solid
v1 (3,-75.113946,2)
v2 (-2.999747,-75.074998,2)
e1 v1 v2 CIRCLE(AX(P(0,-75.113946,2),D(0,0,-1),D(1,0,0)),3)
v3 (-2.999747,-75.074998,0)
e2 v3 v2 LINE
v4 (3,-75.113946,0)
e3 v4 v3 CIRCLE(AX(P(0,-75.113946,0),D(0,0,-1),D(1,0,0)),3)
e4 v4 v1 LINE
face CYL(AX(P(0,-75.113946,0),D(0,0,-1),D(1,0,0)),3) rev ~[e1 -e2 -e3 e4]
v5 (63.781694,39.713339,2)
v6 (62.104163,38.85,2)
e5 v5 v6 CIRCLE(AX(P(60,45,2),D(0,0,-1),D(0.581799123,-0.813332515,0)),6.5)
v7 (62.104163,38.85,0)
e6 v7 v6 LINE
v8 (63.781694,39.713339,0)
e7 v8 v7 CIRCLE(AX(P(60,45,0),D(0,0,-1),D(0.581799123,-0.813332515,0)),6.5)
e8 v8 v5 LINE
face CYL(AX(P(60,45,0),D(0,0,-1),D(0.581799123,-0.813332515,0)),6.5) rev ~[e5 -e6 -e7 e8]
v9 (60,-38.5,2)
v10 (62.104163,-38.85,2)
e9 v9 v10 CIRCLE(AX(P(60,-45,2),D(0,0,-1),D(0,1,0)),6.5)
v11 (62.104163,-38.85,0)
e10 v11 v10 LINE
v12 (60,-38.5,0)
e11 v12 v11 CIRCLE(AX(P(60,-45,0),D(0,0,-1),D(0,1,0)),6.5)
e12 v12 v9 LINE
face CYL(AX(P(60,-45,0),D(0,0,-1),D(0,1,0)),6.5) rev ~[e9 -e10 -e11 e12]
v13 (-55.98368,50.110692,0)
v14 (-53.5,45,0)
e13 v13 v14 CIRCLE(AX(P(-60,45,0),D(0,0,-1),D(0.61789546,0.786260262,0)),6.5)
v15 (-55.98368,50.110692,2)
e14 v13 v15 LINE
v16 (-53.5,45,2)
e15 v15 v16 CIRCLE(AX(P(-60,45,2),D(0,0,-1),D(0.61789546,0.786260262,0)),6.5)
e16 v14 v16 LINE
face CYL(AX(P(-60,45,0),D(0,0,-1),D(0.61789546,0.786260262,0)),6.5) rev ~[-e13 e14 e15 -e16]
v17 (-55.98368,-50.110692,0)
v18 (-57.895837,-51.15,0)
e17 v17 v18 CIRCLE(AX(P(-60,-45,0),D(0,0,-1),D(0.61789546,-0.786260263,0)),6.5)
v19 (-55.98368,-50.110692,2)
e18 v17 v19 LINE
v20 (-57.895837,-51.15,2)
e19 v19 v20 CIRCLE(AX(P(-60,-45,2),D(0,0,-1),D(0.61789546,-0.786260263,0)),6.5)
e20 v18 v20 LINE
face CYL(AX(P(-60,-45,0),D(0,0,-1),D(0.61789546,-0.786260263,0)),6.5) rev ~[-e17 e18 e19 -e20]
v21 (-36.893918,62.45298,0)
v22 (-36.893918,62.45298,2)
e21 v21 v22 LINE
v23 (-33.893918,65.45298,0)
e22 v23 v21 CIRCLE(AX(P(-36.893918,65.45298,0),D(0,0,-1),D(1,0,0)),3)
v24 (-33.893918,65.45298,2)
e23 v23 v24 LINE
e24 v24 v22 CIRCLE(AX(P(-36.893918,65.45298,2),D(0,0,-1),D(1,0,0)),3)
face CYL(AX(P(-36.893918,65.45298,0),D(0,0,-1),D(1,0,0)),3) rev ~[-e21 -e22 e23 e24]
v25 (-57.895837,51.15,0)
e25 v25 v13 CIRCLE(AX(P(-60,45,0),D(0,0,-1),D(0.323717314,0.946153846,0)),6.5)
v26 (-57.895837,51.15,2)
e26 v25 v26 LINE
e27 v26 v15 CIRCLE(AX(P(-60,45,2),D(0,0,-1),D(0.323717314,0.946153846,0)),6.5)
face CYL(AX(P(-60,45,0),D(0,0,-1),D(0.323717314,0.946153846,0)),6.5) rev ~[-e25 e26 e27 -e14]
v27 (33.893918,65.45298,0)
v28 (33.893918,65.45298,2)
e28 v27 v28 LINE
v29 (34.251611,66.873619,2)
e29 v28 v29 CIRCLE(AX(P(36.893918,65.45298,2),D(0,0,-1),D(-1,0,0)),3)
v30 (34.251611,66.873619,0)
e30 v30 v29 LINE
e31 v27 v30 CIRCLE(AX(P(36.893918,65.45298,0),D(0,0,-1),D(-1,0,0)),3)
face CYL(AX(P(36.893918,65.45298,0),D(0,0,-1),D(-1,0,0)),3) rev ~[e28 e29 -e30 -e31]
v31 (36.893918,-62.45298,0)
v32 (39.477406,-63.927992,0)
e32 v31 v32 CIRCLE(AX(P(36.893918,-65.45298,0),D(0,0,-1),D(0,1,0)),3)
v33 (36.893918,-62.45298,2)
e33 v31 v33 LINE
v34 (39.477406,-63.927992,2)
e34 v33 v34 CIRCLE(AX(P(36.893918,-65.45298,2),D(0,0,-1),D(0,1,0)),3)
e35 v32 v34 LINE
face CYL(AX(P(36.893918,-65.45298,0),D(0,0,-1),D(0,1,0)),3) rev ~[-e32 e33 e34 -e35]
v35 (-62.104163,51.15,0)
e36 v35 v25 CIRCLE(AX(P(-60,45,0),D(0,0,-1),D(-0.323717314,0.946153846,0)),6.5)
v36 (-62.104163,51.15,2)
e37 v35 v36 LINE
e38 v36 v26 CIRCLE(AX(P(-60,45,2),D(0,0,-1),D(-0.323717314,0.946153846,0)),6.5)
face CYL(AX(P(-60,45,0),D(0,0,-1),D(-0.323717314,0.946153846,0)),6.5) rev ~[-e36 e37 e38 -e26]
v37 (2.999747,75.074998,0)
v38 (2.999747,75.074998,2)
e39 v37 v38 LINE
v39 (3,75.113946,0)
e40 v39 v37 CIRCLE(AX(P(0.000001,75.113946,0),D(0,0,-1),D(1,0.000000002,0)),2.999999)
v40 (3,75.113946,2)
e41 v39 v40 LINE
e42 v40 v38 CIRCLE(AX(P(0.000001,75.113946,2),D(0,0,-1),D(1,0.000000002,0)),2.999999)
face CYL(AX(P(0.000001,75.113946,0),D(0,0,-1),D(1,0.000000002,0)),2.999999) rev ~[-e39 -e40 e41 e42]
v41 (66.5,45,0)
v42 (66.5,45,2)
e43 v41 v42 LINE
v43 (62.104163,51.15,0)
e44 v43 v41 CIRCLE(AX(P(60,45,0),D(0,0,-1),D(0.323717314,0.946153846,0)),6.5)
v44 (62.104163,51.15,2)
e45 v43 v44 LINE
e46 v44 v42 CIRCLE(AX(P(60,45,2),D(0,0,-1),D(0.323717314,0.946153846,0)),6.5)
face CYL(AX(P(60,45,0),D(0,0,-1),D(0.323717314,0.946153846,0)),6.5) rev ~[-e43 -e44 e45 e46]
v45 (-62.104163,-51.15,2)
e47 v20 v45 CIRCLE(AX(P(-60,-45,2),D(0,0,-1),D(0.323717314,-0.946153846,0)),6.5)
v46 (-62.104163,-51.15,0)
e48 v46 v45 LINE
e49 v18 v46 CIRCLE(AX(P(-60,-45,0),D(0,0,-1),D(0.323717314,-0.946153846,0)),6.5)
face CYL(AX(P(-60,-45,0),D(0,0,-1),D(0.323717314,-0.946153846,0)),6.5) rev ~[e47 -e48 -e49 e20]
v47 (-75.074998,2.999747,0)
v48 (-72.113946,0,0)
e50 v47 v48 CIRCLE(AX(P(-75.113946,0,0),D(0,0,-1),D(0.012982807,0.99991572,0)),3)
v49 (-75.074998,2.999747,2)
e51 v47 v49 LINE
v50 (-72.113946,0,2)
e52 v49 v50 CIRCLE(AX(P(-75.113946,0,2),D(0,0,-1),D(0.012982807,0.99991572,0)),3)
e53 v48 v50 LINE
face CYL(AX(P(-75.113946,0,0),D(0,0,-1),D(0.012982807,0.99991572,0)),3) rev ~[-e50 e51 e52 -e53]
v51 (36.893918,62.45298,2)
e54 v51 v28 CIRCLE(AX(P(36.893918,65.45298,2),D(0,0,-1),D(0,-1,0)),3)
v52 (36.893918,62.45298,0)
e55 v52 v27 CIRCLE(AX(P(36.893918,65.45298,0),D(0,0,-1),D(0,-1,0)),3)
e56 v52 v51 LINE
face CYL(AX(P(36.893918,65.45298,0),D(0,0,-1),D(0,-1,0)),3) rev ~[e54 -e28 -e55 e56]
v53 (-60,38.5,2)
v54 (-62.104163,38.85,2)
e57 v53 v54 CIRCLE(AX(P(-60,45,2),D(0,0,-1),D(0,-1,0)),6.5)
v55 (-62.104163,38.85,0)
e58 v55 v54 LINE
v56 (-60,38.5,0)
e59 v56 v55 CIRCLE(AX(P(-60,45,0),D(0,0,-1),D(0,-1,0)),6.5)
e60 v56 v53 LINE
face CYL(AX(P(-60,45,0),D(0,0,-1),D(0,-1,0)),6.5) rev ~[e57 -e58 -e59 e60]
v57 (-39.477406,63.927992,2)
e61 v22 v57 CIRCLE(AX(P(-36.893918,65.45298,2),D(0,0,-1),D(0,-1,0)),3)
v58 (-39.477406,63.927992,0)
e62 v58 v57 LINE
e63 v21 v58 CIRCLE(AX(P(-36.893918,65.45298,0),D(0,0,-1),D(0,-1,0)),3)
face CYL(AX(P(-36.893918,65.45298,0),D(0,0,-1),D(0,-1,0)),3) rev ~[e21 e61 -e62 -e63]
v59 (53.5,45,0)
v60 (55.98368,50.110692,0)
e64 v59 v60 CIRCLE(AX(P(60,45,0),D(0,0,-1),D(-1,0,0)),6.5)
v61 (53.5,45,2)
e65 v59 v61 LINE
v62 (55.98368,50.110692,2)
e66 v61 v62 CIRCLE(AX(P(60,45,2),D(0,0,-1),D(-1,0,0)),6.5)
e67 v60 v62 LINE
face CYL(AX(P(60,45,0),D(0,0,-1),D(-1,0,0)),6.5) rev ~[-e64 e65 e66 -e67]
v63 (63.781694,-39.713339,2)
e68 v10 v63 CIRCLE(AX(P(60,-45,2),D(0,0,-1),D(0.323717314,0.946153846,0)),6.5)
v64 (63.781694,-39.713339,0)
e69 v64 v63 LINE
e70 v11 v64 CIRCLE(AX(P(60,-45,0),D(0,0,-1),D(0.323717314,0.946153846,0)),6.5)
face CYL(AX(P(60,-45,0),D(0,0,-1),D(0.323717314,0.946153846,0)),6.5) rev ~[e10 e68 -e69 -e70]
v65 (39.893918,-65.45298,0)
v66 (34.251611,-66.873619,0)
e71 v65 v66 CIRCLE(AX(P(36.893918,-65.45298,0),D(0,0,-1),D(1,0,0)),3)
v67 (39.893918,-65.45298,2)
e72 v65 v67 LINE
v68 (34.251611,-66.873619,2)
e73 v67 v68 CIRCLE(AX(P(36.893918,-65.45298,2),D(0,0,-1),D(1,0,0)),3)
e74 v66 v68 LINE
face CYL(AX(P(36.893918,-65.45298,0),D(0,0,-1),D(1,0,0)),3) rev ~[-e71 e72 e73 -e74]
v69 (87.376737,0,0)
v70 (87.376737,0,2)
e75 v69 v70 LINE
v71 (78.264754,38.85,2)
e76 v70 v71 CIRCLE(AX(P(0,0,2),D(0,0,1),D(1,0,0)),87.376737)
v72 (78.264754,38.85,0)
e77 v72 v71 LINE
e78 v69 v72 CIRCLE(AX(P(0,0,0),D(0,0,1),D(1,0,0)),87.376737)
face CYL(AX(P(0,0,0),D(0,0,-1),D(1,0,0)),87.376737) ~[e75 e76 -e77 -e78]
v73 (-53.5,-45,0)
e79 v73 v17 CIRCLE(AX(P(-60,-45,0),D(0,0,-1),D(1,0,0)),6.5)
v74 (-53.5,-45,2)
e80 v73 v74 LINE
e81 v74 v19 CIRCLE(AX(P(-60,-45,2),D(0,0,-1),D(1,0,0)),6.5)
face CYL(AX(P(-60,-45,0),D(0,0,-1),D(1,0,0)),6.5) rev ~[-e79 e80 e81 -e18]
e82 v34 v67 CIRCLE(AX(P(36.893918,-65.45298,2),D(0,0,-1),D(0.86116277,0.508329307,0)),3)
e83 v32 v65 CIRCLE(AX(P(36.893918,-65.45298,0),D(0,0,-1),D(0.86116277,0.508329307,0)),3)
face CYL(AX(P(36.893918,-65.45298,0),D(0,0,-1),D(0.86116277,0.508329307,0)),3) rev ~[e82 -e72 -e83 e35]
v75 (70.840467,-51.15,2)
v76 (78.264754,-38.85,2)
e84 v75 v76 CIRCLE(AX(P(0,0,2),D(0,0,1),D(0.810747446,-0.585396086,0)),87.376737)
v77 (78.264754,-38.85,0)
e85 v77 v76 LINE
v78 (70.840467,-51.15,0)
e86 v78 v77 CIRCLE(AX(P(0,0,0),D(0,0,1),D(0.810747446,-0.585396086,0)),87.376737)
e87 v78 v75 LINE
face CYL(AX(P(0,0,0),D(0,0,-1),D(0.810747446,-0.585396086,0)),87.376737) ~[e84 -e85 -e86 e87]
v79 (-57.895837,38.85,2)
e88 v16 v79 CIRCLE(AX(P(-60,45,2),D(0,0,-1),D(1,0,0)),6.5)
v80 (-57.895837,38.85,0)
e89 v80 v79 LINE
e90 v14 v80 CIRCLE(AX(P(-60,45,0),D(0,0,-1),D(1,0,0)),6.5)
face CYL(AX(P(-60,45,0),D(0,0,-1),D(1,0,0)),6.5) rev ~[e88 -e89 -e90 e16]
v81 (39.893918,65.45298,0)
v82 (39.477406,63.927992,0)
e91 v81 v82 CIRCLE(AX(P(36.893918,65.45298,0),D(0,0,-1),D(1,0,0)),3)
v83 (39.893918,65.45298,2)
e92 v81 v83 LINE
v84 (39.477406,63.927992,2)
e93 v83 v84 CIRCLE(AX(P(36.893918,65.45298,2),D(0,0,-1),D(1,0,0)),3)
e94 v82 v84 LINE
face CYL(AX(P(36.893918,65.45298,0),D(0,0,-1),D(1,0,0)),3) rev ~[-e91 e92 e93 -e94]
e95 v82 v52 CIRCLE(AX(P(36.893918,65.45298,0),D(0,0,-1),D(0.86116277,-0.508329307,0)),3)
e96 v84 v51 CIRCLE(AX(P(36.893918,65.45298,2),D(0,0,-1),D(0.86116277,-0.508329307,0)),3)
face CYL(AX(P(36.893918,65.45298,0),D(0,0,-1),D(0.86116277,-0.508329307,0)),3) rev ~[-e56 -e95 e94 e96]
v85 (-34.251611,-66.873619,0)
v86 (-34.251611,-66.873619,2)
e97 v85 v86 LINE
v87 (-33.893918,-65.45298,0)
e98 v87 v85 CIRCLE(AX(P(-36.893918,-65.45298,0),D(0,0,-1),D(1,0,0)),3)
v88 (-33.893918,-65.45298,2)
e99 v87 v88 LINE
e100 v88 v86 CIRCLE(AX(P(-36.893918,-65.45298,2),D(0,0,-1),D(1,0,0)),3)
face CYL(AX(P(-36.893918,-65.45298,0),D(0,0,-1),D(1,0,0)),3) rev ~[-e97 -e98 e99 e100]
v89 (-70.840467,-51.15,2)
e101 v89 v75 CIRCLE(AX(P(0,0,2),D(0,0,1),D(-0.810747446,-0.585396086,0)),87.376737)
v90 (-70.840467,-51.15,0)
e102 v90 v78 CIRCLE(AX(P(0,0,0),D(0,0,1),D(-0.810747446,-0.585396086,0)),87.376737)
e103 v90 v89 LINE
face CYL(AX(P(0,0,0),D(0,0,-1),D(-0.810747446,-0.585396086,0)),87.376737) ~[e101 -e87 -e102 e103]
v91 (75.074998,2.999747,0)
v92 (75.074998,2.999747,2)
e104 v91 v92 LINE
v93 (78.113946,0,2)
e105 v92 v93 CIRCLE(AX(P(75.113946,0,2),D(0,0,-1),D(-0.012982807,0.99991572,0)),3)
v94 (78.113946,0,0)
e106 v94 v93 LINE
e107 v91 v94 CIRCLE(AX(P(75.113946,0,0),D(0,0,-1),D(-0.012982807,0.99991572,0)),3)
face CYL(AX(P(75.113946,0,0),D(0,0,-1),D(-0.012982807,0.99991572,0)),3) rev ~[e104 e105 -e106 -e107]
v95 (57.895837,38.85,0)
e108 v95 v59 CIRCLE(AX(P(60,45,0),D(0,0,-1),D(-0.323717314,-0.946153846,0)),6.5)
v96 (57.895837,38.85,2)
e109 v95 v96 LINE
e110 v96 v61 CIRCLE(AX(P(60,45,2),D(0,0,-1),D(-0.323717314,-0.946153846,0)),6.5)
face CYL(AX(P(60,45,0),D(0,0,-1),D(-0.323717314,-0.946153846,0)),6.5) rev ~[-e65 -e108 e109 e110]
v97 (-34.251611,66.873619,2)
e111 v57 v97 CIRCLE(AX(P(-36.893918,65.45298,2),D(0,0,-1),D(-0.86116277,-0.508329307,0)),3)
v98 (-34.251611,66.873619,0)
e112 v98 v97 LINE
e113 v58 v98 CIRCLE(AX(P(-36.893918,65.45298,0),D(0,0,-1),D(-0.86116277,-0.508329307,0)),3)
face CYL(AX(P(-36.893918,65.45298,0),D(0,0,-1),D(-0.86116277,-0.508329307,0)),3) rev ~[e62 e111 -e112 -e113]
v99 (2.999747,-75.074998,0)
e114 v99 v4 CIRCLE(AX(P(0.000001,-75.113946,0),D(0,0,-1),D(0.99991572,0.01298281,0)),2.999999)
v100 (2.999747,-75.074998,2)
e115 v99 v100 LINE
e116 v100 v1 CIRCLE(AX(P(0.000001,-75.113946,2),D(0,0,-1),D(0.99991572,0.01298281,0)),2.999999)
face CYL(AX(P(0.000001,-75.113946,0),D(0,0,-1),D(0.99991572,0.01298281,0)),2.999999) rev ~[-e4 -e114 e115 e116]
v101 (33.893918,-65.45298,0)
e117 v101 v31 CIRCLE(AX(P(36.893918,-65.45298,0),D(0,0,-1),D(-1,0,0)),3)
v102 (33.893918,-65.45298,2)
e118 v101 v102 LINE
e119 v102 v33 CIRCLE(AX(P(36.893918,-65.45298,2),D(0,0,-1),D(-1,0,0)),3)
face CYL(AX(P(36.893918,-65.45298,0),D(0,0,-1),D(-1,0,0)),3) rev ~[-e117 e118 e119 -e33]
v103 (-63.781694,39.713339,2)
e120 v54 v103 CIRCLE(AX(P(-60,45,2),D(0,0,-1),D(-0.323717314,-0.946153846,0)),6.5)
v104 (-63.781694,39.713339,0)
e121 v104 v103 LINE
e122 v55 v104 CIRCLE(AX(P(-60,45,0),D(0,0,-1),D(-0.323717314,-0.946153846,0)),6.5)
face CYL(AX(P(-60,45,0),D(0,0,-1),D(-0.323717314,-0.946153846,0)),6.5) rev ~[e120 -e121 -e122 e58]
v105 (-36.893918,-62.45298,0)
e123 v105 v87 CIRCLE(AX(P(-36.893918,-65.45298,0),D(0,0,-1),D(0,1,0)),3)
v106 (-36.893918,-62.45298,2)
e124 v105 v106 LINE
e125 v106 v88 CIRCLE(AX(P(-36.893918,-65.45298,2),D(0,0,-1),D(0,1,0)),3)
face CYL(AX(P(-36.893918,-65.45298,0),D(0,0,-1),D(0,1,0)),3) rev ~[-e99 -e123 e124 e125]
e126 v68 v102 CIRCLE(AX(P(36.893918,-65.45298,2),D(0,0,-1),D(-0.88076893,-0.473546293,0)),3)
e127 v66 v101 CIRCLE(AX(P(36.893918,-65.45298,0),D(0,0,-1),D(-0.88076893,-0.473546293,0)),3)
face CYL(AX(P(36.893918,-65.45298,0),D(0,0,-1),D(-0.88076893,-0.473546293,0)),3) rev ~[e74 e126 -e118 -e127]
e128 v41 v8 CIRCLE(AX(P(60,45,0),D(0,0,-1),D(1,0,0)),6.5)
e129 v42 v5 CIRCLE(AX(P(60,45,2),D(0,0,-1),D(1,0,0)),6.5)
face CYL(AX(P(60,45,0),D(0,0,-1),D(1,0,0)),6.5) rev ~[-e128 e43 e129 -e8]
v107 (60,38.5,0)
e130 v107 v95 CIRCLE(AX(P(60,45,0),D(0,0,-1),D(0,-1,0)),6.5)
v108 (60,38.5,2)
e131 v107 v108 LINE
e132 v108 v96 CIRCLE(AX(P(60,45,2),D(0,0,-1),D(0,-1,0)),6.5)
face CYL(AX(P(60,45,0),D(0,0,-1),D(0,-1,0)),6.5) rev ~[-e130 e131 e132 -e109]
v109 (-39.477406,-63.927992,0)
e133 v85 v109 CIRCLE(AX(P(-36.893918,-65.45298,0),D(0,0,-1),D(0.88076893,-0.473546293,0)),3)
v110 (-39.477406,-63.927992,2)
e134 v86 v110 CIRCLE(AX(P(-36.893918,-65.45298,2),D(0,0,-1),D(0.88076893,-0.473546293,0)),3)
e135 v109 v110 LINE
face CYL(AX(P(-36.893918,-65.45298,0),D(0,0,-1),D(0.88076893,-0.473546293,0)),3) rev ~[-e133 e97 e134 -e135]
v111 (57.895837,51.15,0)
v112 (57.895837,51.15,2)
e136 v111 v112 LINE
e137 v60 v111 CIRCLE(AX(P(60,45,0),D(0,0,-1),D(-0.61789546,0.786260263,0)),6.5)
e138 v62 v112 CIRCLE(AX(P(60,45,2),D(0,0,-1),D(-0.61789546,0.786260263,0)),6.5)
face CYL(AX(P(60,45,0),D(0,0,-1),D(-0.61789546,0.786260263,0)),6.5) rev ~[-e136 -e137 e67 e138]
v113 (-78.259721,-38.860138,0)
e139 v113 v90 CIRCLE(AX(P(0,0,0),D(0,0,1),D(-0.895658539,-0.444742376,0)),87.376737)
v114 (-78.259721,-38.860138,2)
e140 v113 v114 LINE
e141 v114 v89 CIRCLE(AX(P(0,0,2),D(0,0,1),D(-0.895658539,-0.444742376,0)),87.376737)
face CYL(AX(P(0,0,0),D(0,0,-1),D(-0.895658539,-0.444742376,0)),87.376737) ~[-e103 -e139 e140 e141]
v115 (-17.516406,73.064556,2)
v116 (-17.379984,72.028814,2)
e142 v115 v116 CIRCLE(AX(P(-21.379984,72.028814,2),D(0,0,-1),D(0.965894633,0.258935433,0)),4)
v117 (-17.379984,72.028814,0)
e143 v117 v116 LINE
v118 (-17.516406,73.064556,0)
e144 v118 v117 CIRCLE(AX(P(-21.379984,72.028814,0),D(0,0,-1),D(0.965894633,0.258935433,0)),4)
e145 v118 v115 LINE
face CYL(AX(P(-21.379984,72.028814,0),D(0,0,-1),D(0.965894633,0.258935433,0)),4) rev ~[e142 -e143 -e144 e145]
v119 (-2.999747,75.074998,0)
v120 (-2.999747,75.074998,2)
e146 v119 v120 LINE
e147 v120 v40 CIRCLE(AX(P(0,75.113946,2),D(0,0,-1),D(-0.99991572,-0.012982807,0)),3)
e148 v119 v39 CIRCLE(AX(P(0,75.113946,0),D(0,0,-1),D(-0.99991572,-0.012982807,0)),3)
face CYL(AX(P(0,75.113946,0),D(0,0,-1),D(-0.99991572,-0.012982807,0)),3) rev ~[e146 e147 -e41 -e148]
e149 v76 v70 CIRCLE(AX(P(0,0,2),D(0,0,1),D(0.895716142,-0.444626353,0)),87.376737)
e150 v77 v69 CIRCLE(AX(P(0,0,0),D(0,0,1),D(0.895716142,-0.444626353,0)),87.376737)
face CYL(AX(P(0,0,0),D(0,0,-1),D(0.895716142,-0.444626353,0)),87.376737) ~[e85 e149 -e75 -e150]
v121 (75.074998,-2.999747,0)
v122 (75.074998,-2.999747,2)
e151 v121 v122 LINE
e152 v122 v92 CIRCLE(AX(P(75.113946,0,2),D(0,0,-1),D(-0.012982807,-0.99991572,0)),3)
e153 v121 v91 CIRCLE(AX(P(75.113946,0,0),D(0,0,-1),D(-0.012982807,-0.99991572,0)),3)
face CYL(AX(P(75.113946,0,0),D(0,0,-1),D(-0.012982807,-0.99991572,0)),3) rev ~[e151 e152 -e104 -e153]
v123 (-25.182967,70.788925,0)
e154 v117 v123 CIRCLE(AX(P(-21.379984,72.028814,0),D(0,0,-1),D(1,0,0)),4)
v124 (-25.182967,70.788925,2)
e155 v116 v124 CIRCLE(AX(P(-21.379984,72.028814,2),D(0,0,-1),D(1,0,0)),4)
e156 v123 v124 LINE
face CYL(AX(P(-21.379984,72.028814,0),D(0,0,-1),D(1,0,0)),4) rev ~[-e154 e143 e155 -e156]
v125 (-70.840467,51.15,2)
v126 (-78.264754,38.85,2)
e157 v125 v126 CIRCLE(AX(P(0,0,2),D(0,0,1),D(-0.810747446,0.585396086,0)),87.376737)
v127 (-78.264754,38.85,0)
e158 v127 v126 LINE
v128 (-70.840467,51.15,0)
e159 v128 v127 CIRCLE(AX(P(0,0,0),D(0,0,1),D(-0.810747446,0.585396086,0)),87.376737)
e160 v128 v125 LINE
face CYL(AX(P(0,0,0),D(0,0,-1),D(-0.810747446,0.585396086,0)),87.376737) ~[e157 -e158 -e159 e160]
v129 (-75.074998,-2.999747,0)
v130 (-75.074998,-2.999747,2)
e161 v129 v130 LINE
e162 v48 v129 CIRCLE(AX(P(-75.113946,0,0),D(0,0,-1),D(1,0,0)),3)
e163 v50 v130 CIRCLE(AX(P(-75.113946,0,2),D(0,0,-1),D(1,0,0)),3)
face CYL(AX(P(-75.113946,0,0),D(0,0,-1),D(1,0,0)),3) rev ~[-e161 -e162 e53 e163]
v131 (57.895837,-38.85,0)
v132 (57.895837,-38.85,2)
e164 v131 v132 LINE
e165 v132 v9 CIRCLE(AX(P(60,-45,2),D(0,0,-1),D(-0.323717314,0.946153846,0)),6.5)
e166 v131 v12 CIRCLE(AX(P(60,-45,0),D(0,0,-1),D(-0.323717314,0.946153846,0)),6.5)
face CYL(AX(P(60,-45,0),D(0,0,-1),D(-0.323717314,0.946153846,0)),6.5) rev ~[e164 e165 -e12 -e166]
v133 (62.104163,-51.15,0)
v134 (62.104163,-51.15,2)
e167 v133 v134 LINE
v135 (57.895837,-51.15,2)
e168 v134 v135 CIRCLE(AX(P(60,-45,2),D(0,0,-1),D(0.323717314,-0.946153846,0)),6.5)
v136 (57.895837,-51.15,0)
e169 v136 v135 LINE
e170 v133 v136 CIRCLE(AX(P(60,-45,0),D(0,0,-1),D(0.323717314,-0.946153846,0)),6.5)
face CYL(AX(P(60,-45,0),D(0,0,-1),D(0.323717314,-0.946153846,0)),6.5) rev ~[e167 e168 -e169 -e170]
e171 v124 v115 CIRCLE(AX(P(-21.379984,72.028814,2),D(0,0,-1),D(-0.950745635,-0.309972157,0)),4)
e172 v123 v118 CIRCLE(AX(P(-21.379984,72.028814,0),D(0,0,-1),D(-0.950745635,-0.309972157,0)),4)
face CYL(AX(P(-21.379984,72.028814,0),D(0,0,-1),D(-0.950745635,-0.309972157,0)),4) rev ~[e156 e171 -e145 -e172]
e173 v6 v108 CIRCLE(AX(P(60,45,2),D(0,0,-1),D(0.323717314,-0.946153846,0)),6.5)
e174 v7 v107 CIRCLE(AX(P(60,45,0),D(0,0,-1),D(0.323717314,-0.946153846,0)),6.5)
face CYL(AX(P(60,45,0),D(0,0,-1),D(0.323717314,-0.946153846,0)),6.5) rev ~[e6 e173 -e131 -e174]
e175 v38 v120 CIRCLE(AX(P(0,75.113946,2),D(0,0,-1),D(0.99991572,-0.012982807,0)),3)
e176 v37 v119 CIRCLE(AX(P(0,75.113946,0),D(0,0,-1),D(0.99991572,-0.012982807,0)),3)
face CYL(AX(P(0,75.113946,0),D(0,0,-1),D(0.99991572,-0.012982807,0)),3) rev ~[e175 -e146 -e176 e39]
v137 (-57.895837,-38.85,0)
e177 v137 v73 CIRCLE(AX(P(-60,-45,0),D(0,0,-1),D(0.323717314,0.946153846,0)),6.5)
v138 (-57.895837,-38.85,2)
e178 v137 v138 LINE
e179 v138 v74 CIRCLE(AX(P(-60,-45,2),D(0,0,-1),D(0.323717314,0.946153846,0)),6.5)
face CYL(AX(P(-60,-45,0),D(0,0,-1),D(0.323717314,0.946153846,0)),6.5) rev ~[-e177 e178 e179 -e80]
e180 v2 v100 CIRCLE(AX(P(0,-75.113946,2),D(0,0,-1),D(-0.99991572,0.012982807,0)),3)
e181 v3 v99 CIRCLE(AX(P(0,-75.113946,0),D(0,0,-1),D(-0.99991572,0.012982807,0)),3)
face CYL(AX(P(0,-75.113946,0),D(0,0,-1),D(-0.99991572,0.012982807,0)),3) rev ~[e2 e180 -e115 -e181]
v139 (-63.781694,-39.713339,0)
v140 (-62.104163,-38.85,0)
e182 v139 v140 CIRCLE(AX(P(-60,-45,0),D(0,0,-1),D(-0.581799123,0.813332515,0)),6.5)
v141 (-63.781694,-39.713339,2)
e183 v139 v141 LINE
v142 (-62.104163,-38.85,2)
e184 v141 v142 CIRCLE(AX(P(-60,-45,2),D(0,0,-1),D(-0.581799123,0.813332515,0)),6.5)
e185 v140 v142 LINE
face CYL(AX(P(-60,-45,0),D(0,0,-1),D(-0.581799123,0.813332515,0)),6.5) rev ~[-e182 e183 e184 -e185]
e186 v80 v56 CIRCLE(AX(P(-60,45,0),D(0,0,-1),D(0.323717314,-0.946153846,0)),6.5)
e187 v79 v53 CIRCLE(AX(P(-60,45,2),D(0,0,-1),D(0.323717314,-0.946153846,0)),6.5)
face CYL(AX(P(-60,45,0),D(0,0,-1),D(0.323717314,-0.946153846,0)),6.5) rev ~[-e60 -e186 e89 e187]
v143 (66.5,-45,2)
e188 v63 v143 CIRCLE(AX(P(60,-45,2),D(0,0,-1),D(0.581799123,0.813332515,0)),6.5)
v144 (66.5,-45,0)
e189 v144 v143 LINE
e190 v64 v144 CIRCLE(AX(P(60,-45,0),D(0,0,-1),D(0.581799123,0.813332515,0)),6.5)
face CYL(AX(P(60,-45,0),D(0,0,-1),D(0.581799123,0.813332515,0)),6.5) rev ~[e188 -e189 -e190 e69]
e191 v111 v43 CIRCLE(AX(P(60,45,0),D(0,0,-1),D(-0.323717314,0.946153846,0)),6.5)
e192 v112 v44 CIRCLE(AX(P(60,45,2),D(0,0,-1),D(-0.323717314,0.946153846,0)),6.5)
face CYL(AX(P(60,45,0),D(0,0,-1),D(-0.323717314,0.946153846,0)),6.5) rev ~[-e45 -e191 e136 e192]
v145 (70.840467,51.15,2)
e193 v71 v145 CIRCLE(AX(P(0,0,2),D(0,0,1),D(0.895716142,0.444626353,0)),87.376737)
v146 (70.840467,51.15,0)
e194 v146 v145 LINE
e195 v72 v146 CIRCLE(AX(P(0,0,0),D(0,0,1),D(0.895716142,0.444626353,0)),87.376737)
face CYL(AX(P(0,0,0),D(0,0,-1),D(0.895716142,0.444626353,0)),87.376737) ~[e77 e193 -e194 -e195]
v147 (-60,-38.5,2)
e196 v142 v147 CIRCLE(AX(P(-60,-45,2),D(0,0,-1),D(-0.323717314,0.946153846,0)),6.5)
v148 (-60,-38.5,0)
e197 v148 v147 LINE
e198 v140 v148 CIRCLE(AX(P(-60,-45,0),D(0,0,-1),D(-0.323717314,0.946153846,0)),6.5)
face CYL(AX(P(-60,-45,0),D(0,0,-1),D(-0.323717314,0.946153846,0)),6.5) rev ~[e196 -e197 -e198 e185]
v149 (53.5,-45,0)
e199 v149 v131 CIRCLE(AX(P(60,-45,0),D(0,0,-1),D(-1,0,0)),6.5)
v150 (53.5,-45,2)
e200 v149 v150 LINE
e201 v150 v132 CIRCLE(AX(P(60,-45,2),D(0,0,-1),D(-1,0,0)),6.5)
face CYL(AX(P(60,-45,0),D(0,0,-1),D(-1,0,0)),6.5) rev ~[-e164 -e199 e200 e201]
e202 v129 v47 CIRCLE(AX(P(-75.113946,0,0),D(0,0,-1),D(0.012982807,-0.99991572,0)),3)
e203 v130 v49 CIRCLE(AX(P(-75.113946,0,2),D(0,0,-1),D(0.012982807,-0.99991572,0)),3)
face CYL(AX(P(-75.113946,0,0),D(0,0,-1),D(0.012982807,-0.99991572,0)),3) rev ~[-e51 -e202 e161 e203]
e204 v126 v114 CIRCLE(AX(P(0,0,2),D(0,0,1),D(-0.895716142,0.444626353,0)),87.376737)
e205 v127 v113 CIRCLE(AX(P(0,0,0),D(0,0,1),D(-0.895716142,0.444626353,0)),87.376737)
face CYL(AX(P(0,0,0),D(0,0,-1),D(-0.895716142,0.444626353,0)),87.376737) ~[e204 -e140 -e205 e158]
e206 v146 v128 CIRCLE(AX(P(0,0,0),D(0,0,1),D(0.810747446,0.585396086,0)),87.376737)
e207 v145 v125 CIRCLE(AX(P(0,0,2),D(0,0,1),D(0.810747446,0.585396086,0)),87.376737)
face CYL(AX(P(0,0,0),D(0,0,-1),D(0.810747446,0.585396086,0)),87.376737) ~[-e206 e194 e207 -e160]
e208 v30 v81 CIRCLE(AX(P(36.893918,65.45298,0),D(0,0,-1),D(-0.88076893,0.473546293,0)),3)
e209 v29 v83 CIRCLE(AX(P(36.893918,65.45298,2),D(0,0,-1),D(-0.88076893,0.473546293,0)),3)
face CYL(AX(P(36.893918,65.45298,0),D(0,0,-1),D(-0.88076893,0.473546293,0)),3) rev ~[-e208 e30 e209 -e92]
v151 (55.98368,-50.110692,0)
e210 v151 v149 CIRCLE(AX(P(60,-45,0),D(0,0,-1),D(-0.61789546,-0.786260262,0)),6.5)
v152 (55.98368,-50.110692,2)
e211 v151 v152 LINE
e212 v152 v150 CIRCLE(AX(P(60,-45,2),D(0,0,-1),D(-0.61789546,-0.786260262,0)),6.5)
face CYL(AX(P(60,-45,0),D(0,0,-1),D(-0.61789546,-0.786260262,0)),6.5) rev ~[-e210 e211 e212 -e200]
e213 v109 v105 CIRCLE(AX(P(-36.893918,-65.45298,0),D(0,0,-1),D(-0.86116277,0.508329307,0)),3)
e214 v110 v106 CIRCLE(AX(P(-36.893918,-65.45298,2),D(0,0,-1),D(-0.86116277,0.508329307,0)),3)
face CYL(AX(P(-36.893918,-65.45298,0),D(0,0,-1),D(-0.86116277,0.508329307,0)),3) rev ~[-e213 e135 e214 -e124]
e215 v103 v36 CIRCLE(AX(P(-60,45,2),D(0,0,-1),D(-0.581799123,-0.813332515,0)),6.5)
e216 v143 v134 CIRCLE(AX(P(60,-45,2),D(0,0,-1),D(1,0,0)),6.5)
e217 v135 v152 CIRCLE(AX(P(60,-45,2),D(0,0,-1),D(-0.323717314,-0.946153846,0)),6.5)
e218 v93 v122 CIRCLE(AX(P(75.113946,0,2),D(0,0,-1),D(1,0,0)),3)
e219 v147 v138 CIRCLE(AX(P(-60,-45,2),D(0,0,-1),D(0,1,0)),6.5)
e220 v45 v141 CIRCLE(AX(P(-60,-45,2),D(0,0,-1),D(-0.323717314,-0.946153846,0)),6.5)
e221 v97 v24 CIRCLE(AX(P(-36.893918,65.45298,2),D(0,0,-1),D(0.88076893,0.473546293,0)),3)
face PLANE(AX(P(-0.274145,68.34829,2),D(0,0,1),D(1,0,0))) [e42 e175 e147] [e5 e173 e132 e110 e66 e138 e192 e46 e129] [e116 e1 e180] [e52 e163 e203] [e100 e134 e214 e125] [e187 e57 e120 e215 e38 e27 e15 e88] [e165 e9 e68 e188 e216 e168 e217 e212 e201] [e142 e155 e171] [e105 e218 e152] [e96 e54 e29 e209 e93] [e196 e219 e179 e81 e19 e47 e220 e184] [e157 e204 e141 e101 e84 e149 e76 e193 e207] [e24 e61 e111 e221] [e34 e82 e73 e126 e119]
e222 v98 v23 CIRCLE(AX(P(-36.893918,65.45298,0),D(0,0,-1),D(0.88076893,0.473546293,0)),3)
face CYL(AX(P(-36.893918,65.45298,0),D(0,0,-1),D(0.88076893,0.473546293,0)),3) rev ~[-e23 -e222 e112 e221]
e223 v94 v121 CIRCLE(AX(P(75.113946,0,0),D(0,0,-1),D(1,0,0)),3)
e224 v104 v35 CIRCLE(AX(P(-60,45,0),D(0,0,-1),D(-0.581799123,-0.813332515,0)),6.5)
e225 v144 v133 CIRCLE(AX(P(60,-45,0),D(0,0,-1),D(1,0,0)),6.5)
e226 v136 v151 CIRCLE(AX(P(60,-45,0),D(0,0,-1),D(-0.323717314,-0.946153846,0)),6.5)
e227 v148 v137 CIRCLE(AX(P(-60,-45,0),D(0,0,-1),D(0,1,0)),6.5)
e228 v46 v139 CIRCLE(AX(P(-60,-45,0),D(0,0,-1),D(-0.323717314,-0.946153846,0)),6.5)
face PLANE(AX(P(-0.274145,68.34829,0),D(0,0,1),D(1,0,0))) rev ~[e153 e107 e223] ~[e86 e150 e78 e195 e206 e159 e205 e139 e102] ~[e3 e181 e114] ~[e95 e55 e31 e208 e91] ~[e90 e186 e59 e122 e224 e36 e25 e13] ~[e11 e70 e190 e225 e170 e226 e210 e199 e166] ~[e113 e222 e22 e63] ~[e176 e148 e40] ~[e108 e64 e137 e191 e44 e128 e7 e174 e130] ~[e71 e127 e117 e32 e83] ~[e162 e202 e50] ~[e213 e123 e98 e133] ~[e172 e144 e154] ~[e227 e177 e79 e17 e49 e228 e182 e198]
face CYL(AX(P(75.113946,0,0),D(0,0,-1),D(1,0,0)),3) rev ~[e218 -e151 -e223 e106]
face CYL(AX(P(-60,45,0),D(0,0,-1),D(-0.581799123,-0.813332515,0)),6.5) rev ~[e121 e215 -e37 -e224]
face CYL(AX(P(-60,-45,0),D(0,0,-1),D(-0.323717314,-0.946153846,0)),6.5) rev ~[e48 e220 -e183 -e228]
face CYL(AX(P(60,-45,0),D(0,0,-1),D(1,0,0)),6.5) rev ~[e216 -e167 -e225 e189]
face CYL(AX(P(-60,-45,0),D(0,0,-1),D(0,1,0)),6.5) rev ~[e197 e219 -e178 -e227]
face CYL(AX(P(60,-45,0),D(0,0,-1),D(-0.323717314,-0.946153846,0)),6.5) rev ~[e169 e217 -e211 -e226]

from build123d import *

# Parameters (mm, degrees)
F0_W     = 73.7878350085
F0_H     = 90
F1_DEPTH = 2


with BuildPart() as f1:
    # F0 (on Top) → F1 (new body)
    with BuildSketch(Plane.XY):
        with BuildLine():
            ThreePointArc((39.4774058129, 63.9279924987), (48.2279395476, 57.613536965), (55.983679509, 50.110691706))
            ThreePointArc((55.983679509, 50.110691706), (56.8959512618, 50.7109440052), (57.8958374587, 51.15))
            ThreePointArc((57.8958374587, 51.15), (60, 51.5), (62.1041625413, 51.15))
            Line((62.1041625413, 51.15), (70.8404665627, 51.15))
            ThreePointArc((70.8404665627, 51.15), (0, 87.3767371949), (-70.8404665627, 51.15))
            Line((-70.8404665627, 51.15), (-62.1041625413, 51.15))
            ThreePointArc((-62.1041625413, 51.15), (-60, 51.5), (-57.8958374587, 51.15))
            ThreePointArc((-57.8958374587, 51.15), (-56.8959512618, 50.7109440052), (-55.983679509, 50.110691706))
            ThreePointArc((-55.983679509, 50.110691706), (-48.2279395476, 57.613536965), (-39.4774058129, 63.9279924987))
            ThreePointArc((-39.4774058129, 63.9279924987), (-38.367024498, 68.0663988295), (-34.2516107138, 66.8736192989))
            ThreePointArc((-34.2516107138, 66.8736192989), (-29.7817001102, 68.980461967), (-25.1829669608, 70.7889254734))
            ThreePointArc((-25.1829669608, 70.7889254734), (-22.5182029217, 75.8634534118), (-17.5164058914, 73.0645558344))
            ThreePointArc((-17.5164058914, 73.0645558344), (-10.3072112299, 74.4245604037), (-2.9997471594, 75.0749979128))
            ThreePointArc((-2.9997471594, 75.0749979128), (-0.0194746205, 78.1138831224), (3, 75.1139463332))
            ThreePointArc((3, 75.1139463332), (2.9999367892, 75.0944717127), (2.9997471594, 75.0749979128))
            ThreePointArc((2.9997471594, 75.0749979128), (19.0717479179, 72.6740822163), (34.2516107138, 66.8736192989))
            ThreePointArc((34.2516107138, 66.8736192989), (37.6264062853, 68.3621830914), (39.8939175043, 65.4529804196))
            ThreePointArc((39.8939175043, 65.4529804196), (39.7879168932, 64.6625580408), (39.4774058129, 63.9279924987))
        make_face()
        with BuildLine():
            Line((-62.1041625413, 51.15), (-70.8404665627, 51.15))
            ThreePointArc((-70.8404665627, 51.15), (-74.8058433026, 45.1528516332), (-78.2647538987, 38.85))
            Line((-78.2647538987, 38.85), (-64.3112066022, 38.85))
            ThreePointArc((-64.3112066022, 38.85), (-64.0479051477, 39.2825615358), (-63.7816943003, 39.713338651))
            ThreePointArc((-63.7816943003, 39.713338651), (-66.4311844471, 45.9433274125), (-62.1041625413, 51.15))
        make_face()
        with BuildLine():
            ThreePointArc((-43.3733789322, 45), (-40.2260149068, 47.834273536), (-36.8939175043, 50.4488736365))
            Line((-36.8939175043, 50.4488736365), (-36.8939175043, 62.4529804196))
            ThreePointArc((-36.8939175043, 62.4529804196), (-38.3813710728, 62.8477008029), (-39.4774058129, 63.9279924987))
            ThreePointArc((-39.4774058129, 63.9279924987), (-48.2279395476, 57.613536965), (-55.983679509, 50.110691706))
            ThreePointArc((-55.983679509, 50.110691706), (-54.1538010985, 47.8411192169), (-53.5, 45))
            Line((-53.5, 45), (-43.3733789322, 45))
        make_face()
        with BuildLine():
            Line((-43.3733789322, 45), (-36.8939175043, 45))
            Line((-36.8939175043, 45), (-36.8939175043, 50.4488736365))
            ThreePointArc((-36.8939175043, 50.4488736365), (-40.2260149068, 47.834273536), (-43.3733789322, 45))
        make_face()
        with BuildLine():
            ThreePointArc((-63.7816943003, 39.713338651), (-64.0479051477, 39.2825615358), (-64.3112066022, 38.85))
            Line((-64.3112066022, 38.85), (-62.1041625413, 38.85))
            ThreePointArc((-62.1041625413, 38.85), (-62.9744186149, 39.2204815163), (-63.7816943003, 39.713338651))
        make_face()
        with BuildLine():
            ThreePointArc((-60, 17.5), (-53.484356292, 32.3368772771), (-43.3733789322, 45))
            Line((-43.3733789322, 45), (-53.5, 45))
            ThreePointArc((-53.5, 45), (-54.7119447564, 41.2202550693), (-57.8958374587, 38.85))
            ThreePointArc((-57.8958374587, 38.85), (-58.9334635496, 38.5880970063), (-60, 38.5))
            Line((-60, 38.5), (-60, 17.5))
        make_face()
        with BuildLine():
            ThreePointArc((-36.8939175043, 50.4488736365), (0, 62.5), (36.8939175043, 50.4488736365))
            Line((36.8939175043, 50.4488736365), (36.8939175043, 62.4529804196))
            ThreePointArc((36.8939175043, 62.4529804196), (34.7725971607, 63.3316600761), (33.8939175043, 65.4529804196))
            Line((33.8939175043, 65.4529804196), (-33.8939175043, 65.4529804196))
            ThreePointArc((-33.8939175043, 65.4529804196), (-34.7725971607, 63.3316600761), (-36.8939175043, 62.4529804196))
            Line((-36.8939175043, 62.4529804196), (-36.8939175043, 50.4488736365))
        make_face()
        with BuildLine():
            Line((-33.8939175043, 65.4529804196), (33.8939175043, 65.4529804196))
            ThreePointArc((33.8939175043, 65.4529804196), (33.9847148325, 66.1854692007), (34.2516107138, 66.8736192989))
            ThreePointArc((34.2516107138, 66.8736192989), (19.0717479179, 72.6740822163), (2.9997471594, 75.0749979128))
            ThreePointArc((2.9997471594, 75.0749979128), (0, 72.1139463332), (-2.9997471594, 75.0749979128))
            ThreePointArc((-2.9997471594, 75.0749979128), (-10.3072112299, 74.4245604037), (-17.5164058914, 73.0645558344))
            ThreePointArc((-17.5164058914, 73.0645558344), (-17.4142364393, 72.5511577989), (-17.3799844218, 72.0288141007))
            ThreePointArc((-17.3799844218, 72.0288141007), (-20.7522624117, 68.0783755075), (-25.1829669608, 70.7889254734))
            ThreePointArc((-25.1829669608, 70.7889254734), (-29.7817001102, 68.980461967), (-34.2516107138, 66.8736192989))
            ThreePointArc((-34.2516107138, 66.8736192989), (-33.9847148325, 66.1854692007), (-33.8939175043, 65.4529804196))
        make_face()
        with BuildLine():
            Line((43.3733789322, 45), (53.5, 45))
            ThreePointArc((53.5, 45), (54.1538010985, 47.8411192169), (55.983679509, 50.110691706))
            ThreePointArc((55.983679509, 50.110691706), (48.2279395476, 57.613536965), (39.4774058129, 63.9279924987))
            ThreePointArc((39.4774058129, 63.9279924987), (38.3813710728, 62.8477008029), (36.8939175043, 62.4529804196))
            Line((36.8939175043, 62.4529804196), (36.8939175043, 50.4488736365))
            ThreePointArc((36.8939175043, 50.4488736365), (40.2260149068, 47.834273536), (43.3733789322, 45))
        make_face()
        with BuildLine():
            Line((-36.8939175043, -45), (-36.8939175043, 45))
            Line((-36.8939175043, 45), (-43.3733789322, 45))
            ThreePointArc((-43.3733789322, 45), (-53.484356292, 32.3368772771), (-60, 17.5))
            Line((-60, 17.5), (-60, -17.5))
            ThreePointArc((-60, -17.5), (-53.484356292, -32.3368772771), (-43.3733789322, -45))
            Line((-43.3733789322, -45), (-36.8939175043, -45))
        make_face()
        with BuildLine():
            Line((-36.8939175043, 45), (36.8939175043, 45))
            Line((36.8939175043, 45), (36.8939175043, 50.4488736365))
            ThreePointArc((36.8939175043, 50.4488736365), (0, 62.5), (-36.8939175043, 50.4488736365))
            Line((-36.8939175043, 50.4488736365), (-36.8939175043, 45))
        make_face()
        with BuildLine():
            ThreePointArc((60, 17.5), (53.484356292, 32.3368772771), (43.3733789322, 45))
            Line((43.3733789322, 45), (36.8939175043, 45))
            Line((36.8939175043, 45), (36.8939175043, -45))
            Line((36.8939175043, -45), (43.3733789322, -45))
            ThreePointArc((43.3733789322, -45), (53.484356292, -32.3368772771), (60, -17.5))
            Line((60, -17.5), (60, 17.5))
        make_face()
        with BuildLine():
            ThreePointArc((62.5, 0), (61.8718433538, 8.8388347648), (60, 17.5))
            Line((60, 17.5), (60, -17.5))
            ThreePointArc((60, -17.5), (61.8718433538, -8.8388347648), (62.5, 0))
        make_face()
        with BuildLine():
            ThreePointArc((57.8958374587, 38.85), (54.7119447564, 41.2202550693), (53.5, 45))
            Line((53.5, 45), (43.3733789322, 45))
            ThreePointArc((43.3733789322, 45), (53.484356292, 32.3368772771), (60, 17.5))
            Line((60, 17.5), (60, 38.5))
            ThreePointArc((60, 38.5), (58.9334635496, 38.5880970063), (57.8958374587, 38.85))
        make_face()
        with BuildLine():
            Line((36.8939175043, 45), (43.3733789322, 45))
            ThreePointArc((43.3733789322, 45), (40.2260149068, 47.834273536), (36.8939175043, 50.4488736365))
            Line((36.8939175043, 50.4488736365), (36.8939175043, 45))
        make_face()
        with BuildLine():
            ThreePointArc((-60, -17.5), (-62.5, 0), (-60, 17.5))
            Line((-60, 17.5), (-60, 38.5))
            ThreePointArc((-60, 38.5), (-61.0665364504, 38.5880970063), (-62.1041625413, 38.85))
            Line((-62.1041625413, 38.85), (-64.3112066022, 38.85))
            ThreePointArc((-64.3112066022, 38.85), (-71.9613692161, 21.6059050996), (-75.0749979128, 2.9997471594))
            ThreePointArc((-75.0749979128, 2.9997471594), (-72.9789000502, 2.1075050105), (-72.1139463332, 0))
            ThreePointArc((-72.1139463332, 0), (-72.9789000502, -2.1075050105), (-75.0749979128, -2.9997471594))
            ThreePointArc((-75.0749979128, -2.9997471594), (-71.9613692161, -21.6059050996), (-64.3112066022, -38.85))
            Line((-64.3112066022, -38.85), (-62.1041625413, -38.85))
            ThreePointArc((-62.1041625413, -38.85), (-61.0665364504, -38.5880970063), (-60, -38.5))
            Line((-60, -38.5), (-60, -17.5))
        make_face()
        with BuildLine():
            Line((-60, -17.5), (-60, 17.5))
            ThreePointArc((-60, 17.5), (-62.5, 0), (-60, -17.5))
        make_face()
        with BuildLine():
            Line((-64.3112066022, 38.85), (-78.2647538987, 38.85))
            ThreePointArc((-78.2647538987, 38.85), (-87.3767370116, -0.0056591785), (-78.2597208023, -38.860137709))
            Line((-78.2597208023, -38.860137709), (-78.2597208023, -38.85))
            Line((-78.2597208023, -38.85), (-64.3112066022, -38.85))
            ThreePointArc((-64.3112066022, -38.85), (-71.9613692161, -21.6059050996), (-75.0749979128, -2.9997471594))
            ThreePointArc((-75.0749979128, -2.9997471594), (-78.1139463332, 0), (-75.0749979128, 2.9997471594))
            ThreePointArc((-75.0749979128, 2.9997471594), (-71.9613692161, 21.6059050996), (-64.3112066022, 38.85))
        make_face()
        with BuildLine():
            ThreePointArc((66.5, 45), (65.7806147144, 42.0277124089), (63.7816943003, 39.713338651))
            ThreePointArc((63.7816943003, 39.713338651), (64.0479051477, 39.2825615358), (64.3112066022, 38.85))
            Line((64.3112066022, 38.85), (78.2647538987, 38.85))
            ThreePointArc((78.2647538987, 38.85), (74.8058433026, 45.1528516332), (70.8404665627, 51.15))
            Line((70.8404665627, 51.15), (62.1041625413, 51.15))
            ThreePointArc((62.1041625413, 51.15), (65.2880552436, 48.7797449307), (66.5, 45))
        make_face()
        with BuildLine():
            ThreePointArc((63.7816943003, 39.713338651), (62.9744186149, 39.2204815163), (62.1041625413, 38.85))
            Line((62.1041625413, 38.85), (64.3112066022, 38.85))
            ThreePointArc((64.3112066022, 38.85), (64.0479051477, 39.2825615358), (63.7816943003, 39.713338651))
        make_face()
        with BuildLine():
            ThreePointArc((62.1041625413, 38.85), (61.0665364504, 38.5880970063), (60, 38.5))
            Line((60, 38.5), (60, 17.5))
            ThreePointArc((60, 17.5), (61.8718433538, 8.8388347648), (62.5, 0))
            ThreePointArc((62.5, 0), (61.8718433538, -8.8388347648), (60, -17.5))
            Line((60, -17.5), (60, -38.5))
            ThreePointArc((60, -38.5), (61.0665364504, -38.5880970063), (62.1041625413, -38.85))
            Line((62.1041625413, -38.85), (64.3112066022, -38.85))
            ThreePointArc((64.3112066022, -38.85), (71.9613692161, -21.6059050996), (75.0749979128, -2.9997471594))
            ThreePointArc((75.0749979128, -2.9997471594), (72.1139463332, 0), (75.0749979128, 2.9997471594))
            ThreePointArc((75.0749979128, 2.9997471594), (71.9613692161, 21.6059050996), (64.3112066022, 38.85))
            Line((64.3112066022, 38.85), (62.1041625413, 38.85))
        make_face()
        with BuildLine():
            Line((78.2647538987, 38.85), (64.3112066022, 38.85))
            ThreePointArc((64.3112066022, 38.85), (71.9613692161, 21.6059050996), (75.0749979128, 2.9997471594))
            ThreePointArc((75.0749979128, 2.9997471594), (77.2214513437, 2.135046283), (78.1139463332, 0))
            ThreePointArc((78.1139463332, 0), (77.2214513437, -2.135046283), (75.0749979128, -2.9997471594))
            ThreePointArc((75.0749979128, -2.9997471594), (71.9613692161, -21.6059050996), (64.3112066022, -38.85))
            Line((64.3112066022, -38.85), (78.2647538987, -38.85))
            ThreePointArc((78.2647538987, -38.85), (85.0682462375, -19.9521348456), (87.3767371949, 0))
            ThreePointArc((87.3767371949, 0), (85.0682462375, 19.9521348456), (78.2647538987, 38.85))
        make_face()
        Rectangle(F0_W, F0_H)
        with BuildLine():
            Line((36.8939175043, -50.4488736365), (36.8939175043, -45))
            Line((36.8939175043, -45), (-36.8939175043, -45))
            Line((-36.8939175043, -45), (-36.8939175043, -50.4488736365))
            ThreePointArc((-36.8939175043, -50.4488736365), (0, -62.5), (36.8939175043, -50.4488736365))
        make_face()
        with BuildLine():
            Line((43.3733789322, -45), (36.8939175043, -45))
            Line((36.8939175043, -45), (36.8939175043, -50.4488736365))
            ThreePointArc((36.8939175043, -50.4488736365), (40.2260149068, -47.834273536), (43.3733789322, -45))
        make_face()
        with BuildLine():
            Line((-36.8939175043, -50.4488736365), (-36.8939175043, -45))
            Line((-36.8939175043, -45), (-43.3733789322, -45))
            ThreePointArc((-43.3733789322, -45), (-40.2260149068, -47.834273536), (-36.8939175043, -50.4488736365))
        make_face()
        with BuildLine():
            Line((-53.5, -45), (-43.3733789322, -45))
            ThreePointArc((-43.3733789322, -45), (-53.484356292, -32.3368772771), (-60, -17.5))
            Line((-60, -17.5), (-60, -38.5))
            ThreePointArc((-60, -38.5), (-58.9334635496, -38.5880970063), (-57.8958374587, -38.85))
            ThreePointArc((-57.8958374587, -38.85), (-54.7119447564, -41.2202550693), (-53.5, -45))
        make_face()
        with BuildLine():
            Line((36.8939175043, -62.4529804196), (36.8939175043, -50.4488736365))
            ThreePointArc((36.8939175043, -50.4488736365), (0, -62.5), (-36.8939175043, -50.4488736365))
            Line((-36.8939175043, -50.4488736365), (-36.8939175043, -62.4529804196))
            ThreePointArc((-36.8939175043, -62.4529804196), (-34.7725971607, -63.3316600761), (-33.8939175043, -65.4529804196))
            Line((-33.8939175043, -65.4529804196), (33.8939175043, -65.4529804196))
            ThreePointArc((33.8939175043, -65.4529804196), (34.7725971607, -63.3316600761), (36.8939175043, -62.4529804196))
        make_face()
        with BuildLine():
            ThreePointArc((34.2516107138, -66.8736192989), (33.9847148325, -66.1854692007), (33.8939175043, -65.4529804196))
            Line((33.8939175043, -65.4529804196), (-33.8939175043, -65.4529804196))
            ThreePointArc((-33.8939175043, -65.4529804196), (-33.9847148325, -66.1854692007), (-34.2516107138, -66.8736192989))
            ThreePointArc((-34.2516107138, -66.8736192989), (-19.0717479179, -72.6740822163), (-2.9997471594, -75.0749979128))
            ThreePointArc((-2.9997471594, -75.0749979128), (0, -72.1139463332), (2.9997471594, -75.0749979128))
            ThreePointArc((2.9997471594, -75.0749979128), (19.0717479179, -72.6740822163), (34.2516107138, -66.8736192989))
        make_face()
        with BuildLine():
            ThreePointArc((57.8958374587, -51.15), (56.8959512618, -50.7109440052), (55.983679509, -50.110691706))
            ThreePointArc((55.983679509, -50.110691706), (48.2279395476, -57.613536965), (39.4774058129, -63.9279924987))
            ThreePointArc((39.4774058129, -63.9279924987), (39.7879168932, -64.6625580408), (39.8939175043, -65.4529804196))
            ThreePointArc((39.8939175043, -65.4529804196), (37.6264062853, -68.3621830914), (34.2516107138, -66.8736192989))
            ThreePointArc((34.2516107138, -66.8736192989), (19.0717479179, -72.6740822163), (2.9997471594, -75.0749979128))
            ThreePointArc((2.9997471594, -75.0749979128), (2.9999367892, -75.0944717127), (3, -75.1139463332))
            ThreePointArc((3, -75.1139463332), (-0.0194746205, -78.1138831224), (-2.9997471594, -75.0749979128))
            ThreePointArc((-2.9997471594, -75.0749979128), (-19.0717479179, -72.6740822163), (-34.2516107138, -66.8736192989))
            ThreePointArc((-34.2516107138, -66.8736192989), (-38.367024498, -68.0663988295), (-39.4774058129, -63.9279924987))
            ThreePointArc((-39.4774058129, -63.9279924987), (-48.2279395476, -57.613536965), (-55.983679509, -50.110691706))
            ThreePointArc((-55.983679509, -50.110691706), (-56.8959512618, -50.7109440052), (-57.8958374587, -51.15))
            ThreePointArc((-57.8958374587, -51.15), (-60, -51.5), (-62.1041625413, -51.15))
            Line((-62.1041625413, -51.15), (-70.8404665627, -51.15))
            ThreePointArc((-70.8404665627, -51.15), (0, -87.3767371949), (70.8404665627, -51.15))
            Line((70.8404665627, -51.15), (62.1041625413, -51.15))
            ThreePointArc((62.1041625413, -51.15), (60, -51.5), (57.8958374587, -51.15))
        make_face()
        with BuildLine():
            Line((53.5, -45), (43.3733789322, -45))
            ThreePointArc((43.3733789322, -45), (40.2260149068, -47.834273536), (36.8939175043, -50.4488736365))
            Line((36.8939175043, -50.4488736365), (36.8939175043, -62.4529804196))
            ThreePointArc((36.8939175043, -62.4529804196), (38.3813710728, -62.8477008029), (39.4774058129, -63.9279924987))
            ThreePointArc((39.4774058129, -63.9279924987), (48.2279395476, -57.613536965), (55.983679509, -50.110691706))
            ThreePointArc((55.983679509, -50.110691706), (54.1538010985, -47.8411192169), (53.5, -45))
        make_face()
        with BuildLine():
            Line((60, -38.5), (60, -17.5))
            ThreePointArc((60, -17.5), (53.484356292, -32.3368772771), (43.3733789322, -45))
            Line((43.3733789322, -45), (53.5, -45))
            ThreePointArc((53.5, -45), (54.7119447564, -41.2202550693), (57.8958374587, -38.85))
            ThreePointArc((57.8958374587, -38.85), (58.9334635496, -38.5880970063), (60, -38.5))
        make_face()
        with BuildLine():
            ThreePointArc((-36.8939175043, -50.4488736365), (-40.2260149068, -47.834273536), (-43.3733789322, -45))
            Line((-43.3733789322, -45), (-53.5, -45))
            ThreePointArc((-53.5, -45), (-54.1538010985, -47.8411192169), (-55.983679509, -50.110691706))
            ThreePointArc((-55.983679509, -50.110691706), (-48.2279395476, -57.613536965), (-39.4774058129, -63.9279924987))
            ThreePointArc((-39.4774058129, -63.9279924987), (-38.3813710728, -62.8477008029), (-36.8939175043, -62.4529804196))
            Line((-36.8939175043, -62.4529804196), (-36.8939175043, -50.4488736365))
        make_face()
        with BuildLine():
            ThreePointArc((70.8404665627, -51.15), (74.8058433026, -45.1528516332), (78.2647538987, -38.85))
            Line((78.2647538987, -38.85), (64.3112066022, -38.85))
            ThreePointArc((64.3112066022, -38.85), (64.0479051477, -39.2825615358), (63.7816943003, -39.713338651))
            ThreePointArc((63.7816943003, -39.713338651), (65.7806147144, -42.0277124089), (66.5, -45))
            ThreePointArc((66.5, -45), (65.2880552436, -48.7797449307), (62.1041625413, -51.15))
            Line((62.1041625413, -51.15), (70.8404665627, -51.15))
        make_face()
        with BuildLine():
            Line((64.3112066022, -38.85), (62.1041625413, -38.85))
            ThreePointArc((62.1041625413, -38.85), (62.9744186149, -39.2204815163), (63.7816943003, -39.713338651))
            ThreePointArc((63.7816943003, -39.713338651), (64.0479051477, -39.2825615358), (64.3112066022, -38.85))
        make_face()
        with BuildLine():
            Line((-78.2597208023, -38.85), (-78.2597208023, -38.860137709))
            ThreePointArc((-78.2597208023, -38.860137709), (-74.8029187054, -45.1576965308), (-70.8404665627, -51.15))
            Line((-70.8404665627, -51.15), (-62.1041625413, -51.15))
            ThreePointArc((-62.1041625413, -51.15), (-66.4311844471, -45.9433274125), (-63.7816943003, -39.713338651))
            ThreePointArc((-63.7816943003, -39.713338651), (-64.0479051477, -39.2825615358), (-64.3112066022, -38.85))
            Line((-64.3112066022, -38.85), (-78.2597208023, -38.85))
        make_face()
        with BuildLine():
            ThreePointArc((-63.7816943003, -39.713338651), (-62.9744186149, -39.2204815163), (-62.1041625413, -38.85))
            Line((-62.1041625413, -38.85), (-64.3112066022, -38.85))
            ThreePointArc((-64.3112066022, -38.85), (-64.0479051477, -39.2825615358), (-63.7816943003, -39.713338651))
        make_face()
    extrude(amount=F1_DEPTH)


solid = f1.part
